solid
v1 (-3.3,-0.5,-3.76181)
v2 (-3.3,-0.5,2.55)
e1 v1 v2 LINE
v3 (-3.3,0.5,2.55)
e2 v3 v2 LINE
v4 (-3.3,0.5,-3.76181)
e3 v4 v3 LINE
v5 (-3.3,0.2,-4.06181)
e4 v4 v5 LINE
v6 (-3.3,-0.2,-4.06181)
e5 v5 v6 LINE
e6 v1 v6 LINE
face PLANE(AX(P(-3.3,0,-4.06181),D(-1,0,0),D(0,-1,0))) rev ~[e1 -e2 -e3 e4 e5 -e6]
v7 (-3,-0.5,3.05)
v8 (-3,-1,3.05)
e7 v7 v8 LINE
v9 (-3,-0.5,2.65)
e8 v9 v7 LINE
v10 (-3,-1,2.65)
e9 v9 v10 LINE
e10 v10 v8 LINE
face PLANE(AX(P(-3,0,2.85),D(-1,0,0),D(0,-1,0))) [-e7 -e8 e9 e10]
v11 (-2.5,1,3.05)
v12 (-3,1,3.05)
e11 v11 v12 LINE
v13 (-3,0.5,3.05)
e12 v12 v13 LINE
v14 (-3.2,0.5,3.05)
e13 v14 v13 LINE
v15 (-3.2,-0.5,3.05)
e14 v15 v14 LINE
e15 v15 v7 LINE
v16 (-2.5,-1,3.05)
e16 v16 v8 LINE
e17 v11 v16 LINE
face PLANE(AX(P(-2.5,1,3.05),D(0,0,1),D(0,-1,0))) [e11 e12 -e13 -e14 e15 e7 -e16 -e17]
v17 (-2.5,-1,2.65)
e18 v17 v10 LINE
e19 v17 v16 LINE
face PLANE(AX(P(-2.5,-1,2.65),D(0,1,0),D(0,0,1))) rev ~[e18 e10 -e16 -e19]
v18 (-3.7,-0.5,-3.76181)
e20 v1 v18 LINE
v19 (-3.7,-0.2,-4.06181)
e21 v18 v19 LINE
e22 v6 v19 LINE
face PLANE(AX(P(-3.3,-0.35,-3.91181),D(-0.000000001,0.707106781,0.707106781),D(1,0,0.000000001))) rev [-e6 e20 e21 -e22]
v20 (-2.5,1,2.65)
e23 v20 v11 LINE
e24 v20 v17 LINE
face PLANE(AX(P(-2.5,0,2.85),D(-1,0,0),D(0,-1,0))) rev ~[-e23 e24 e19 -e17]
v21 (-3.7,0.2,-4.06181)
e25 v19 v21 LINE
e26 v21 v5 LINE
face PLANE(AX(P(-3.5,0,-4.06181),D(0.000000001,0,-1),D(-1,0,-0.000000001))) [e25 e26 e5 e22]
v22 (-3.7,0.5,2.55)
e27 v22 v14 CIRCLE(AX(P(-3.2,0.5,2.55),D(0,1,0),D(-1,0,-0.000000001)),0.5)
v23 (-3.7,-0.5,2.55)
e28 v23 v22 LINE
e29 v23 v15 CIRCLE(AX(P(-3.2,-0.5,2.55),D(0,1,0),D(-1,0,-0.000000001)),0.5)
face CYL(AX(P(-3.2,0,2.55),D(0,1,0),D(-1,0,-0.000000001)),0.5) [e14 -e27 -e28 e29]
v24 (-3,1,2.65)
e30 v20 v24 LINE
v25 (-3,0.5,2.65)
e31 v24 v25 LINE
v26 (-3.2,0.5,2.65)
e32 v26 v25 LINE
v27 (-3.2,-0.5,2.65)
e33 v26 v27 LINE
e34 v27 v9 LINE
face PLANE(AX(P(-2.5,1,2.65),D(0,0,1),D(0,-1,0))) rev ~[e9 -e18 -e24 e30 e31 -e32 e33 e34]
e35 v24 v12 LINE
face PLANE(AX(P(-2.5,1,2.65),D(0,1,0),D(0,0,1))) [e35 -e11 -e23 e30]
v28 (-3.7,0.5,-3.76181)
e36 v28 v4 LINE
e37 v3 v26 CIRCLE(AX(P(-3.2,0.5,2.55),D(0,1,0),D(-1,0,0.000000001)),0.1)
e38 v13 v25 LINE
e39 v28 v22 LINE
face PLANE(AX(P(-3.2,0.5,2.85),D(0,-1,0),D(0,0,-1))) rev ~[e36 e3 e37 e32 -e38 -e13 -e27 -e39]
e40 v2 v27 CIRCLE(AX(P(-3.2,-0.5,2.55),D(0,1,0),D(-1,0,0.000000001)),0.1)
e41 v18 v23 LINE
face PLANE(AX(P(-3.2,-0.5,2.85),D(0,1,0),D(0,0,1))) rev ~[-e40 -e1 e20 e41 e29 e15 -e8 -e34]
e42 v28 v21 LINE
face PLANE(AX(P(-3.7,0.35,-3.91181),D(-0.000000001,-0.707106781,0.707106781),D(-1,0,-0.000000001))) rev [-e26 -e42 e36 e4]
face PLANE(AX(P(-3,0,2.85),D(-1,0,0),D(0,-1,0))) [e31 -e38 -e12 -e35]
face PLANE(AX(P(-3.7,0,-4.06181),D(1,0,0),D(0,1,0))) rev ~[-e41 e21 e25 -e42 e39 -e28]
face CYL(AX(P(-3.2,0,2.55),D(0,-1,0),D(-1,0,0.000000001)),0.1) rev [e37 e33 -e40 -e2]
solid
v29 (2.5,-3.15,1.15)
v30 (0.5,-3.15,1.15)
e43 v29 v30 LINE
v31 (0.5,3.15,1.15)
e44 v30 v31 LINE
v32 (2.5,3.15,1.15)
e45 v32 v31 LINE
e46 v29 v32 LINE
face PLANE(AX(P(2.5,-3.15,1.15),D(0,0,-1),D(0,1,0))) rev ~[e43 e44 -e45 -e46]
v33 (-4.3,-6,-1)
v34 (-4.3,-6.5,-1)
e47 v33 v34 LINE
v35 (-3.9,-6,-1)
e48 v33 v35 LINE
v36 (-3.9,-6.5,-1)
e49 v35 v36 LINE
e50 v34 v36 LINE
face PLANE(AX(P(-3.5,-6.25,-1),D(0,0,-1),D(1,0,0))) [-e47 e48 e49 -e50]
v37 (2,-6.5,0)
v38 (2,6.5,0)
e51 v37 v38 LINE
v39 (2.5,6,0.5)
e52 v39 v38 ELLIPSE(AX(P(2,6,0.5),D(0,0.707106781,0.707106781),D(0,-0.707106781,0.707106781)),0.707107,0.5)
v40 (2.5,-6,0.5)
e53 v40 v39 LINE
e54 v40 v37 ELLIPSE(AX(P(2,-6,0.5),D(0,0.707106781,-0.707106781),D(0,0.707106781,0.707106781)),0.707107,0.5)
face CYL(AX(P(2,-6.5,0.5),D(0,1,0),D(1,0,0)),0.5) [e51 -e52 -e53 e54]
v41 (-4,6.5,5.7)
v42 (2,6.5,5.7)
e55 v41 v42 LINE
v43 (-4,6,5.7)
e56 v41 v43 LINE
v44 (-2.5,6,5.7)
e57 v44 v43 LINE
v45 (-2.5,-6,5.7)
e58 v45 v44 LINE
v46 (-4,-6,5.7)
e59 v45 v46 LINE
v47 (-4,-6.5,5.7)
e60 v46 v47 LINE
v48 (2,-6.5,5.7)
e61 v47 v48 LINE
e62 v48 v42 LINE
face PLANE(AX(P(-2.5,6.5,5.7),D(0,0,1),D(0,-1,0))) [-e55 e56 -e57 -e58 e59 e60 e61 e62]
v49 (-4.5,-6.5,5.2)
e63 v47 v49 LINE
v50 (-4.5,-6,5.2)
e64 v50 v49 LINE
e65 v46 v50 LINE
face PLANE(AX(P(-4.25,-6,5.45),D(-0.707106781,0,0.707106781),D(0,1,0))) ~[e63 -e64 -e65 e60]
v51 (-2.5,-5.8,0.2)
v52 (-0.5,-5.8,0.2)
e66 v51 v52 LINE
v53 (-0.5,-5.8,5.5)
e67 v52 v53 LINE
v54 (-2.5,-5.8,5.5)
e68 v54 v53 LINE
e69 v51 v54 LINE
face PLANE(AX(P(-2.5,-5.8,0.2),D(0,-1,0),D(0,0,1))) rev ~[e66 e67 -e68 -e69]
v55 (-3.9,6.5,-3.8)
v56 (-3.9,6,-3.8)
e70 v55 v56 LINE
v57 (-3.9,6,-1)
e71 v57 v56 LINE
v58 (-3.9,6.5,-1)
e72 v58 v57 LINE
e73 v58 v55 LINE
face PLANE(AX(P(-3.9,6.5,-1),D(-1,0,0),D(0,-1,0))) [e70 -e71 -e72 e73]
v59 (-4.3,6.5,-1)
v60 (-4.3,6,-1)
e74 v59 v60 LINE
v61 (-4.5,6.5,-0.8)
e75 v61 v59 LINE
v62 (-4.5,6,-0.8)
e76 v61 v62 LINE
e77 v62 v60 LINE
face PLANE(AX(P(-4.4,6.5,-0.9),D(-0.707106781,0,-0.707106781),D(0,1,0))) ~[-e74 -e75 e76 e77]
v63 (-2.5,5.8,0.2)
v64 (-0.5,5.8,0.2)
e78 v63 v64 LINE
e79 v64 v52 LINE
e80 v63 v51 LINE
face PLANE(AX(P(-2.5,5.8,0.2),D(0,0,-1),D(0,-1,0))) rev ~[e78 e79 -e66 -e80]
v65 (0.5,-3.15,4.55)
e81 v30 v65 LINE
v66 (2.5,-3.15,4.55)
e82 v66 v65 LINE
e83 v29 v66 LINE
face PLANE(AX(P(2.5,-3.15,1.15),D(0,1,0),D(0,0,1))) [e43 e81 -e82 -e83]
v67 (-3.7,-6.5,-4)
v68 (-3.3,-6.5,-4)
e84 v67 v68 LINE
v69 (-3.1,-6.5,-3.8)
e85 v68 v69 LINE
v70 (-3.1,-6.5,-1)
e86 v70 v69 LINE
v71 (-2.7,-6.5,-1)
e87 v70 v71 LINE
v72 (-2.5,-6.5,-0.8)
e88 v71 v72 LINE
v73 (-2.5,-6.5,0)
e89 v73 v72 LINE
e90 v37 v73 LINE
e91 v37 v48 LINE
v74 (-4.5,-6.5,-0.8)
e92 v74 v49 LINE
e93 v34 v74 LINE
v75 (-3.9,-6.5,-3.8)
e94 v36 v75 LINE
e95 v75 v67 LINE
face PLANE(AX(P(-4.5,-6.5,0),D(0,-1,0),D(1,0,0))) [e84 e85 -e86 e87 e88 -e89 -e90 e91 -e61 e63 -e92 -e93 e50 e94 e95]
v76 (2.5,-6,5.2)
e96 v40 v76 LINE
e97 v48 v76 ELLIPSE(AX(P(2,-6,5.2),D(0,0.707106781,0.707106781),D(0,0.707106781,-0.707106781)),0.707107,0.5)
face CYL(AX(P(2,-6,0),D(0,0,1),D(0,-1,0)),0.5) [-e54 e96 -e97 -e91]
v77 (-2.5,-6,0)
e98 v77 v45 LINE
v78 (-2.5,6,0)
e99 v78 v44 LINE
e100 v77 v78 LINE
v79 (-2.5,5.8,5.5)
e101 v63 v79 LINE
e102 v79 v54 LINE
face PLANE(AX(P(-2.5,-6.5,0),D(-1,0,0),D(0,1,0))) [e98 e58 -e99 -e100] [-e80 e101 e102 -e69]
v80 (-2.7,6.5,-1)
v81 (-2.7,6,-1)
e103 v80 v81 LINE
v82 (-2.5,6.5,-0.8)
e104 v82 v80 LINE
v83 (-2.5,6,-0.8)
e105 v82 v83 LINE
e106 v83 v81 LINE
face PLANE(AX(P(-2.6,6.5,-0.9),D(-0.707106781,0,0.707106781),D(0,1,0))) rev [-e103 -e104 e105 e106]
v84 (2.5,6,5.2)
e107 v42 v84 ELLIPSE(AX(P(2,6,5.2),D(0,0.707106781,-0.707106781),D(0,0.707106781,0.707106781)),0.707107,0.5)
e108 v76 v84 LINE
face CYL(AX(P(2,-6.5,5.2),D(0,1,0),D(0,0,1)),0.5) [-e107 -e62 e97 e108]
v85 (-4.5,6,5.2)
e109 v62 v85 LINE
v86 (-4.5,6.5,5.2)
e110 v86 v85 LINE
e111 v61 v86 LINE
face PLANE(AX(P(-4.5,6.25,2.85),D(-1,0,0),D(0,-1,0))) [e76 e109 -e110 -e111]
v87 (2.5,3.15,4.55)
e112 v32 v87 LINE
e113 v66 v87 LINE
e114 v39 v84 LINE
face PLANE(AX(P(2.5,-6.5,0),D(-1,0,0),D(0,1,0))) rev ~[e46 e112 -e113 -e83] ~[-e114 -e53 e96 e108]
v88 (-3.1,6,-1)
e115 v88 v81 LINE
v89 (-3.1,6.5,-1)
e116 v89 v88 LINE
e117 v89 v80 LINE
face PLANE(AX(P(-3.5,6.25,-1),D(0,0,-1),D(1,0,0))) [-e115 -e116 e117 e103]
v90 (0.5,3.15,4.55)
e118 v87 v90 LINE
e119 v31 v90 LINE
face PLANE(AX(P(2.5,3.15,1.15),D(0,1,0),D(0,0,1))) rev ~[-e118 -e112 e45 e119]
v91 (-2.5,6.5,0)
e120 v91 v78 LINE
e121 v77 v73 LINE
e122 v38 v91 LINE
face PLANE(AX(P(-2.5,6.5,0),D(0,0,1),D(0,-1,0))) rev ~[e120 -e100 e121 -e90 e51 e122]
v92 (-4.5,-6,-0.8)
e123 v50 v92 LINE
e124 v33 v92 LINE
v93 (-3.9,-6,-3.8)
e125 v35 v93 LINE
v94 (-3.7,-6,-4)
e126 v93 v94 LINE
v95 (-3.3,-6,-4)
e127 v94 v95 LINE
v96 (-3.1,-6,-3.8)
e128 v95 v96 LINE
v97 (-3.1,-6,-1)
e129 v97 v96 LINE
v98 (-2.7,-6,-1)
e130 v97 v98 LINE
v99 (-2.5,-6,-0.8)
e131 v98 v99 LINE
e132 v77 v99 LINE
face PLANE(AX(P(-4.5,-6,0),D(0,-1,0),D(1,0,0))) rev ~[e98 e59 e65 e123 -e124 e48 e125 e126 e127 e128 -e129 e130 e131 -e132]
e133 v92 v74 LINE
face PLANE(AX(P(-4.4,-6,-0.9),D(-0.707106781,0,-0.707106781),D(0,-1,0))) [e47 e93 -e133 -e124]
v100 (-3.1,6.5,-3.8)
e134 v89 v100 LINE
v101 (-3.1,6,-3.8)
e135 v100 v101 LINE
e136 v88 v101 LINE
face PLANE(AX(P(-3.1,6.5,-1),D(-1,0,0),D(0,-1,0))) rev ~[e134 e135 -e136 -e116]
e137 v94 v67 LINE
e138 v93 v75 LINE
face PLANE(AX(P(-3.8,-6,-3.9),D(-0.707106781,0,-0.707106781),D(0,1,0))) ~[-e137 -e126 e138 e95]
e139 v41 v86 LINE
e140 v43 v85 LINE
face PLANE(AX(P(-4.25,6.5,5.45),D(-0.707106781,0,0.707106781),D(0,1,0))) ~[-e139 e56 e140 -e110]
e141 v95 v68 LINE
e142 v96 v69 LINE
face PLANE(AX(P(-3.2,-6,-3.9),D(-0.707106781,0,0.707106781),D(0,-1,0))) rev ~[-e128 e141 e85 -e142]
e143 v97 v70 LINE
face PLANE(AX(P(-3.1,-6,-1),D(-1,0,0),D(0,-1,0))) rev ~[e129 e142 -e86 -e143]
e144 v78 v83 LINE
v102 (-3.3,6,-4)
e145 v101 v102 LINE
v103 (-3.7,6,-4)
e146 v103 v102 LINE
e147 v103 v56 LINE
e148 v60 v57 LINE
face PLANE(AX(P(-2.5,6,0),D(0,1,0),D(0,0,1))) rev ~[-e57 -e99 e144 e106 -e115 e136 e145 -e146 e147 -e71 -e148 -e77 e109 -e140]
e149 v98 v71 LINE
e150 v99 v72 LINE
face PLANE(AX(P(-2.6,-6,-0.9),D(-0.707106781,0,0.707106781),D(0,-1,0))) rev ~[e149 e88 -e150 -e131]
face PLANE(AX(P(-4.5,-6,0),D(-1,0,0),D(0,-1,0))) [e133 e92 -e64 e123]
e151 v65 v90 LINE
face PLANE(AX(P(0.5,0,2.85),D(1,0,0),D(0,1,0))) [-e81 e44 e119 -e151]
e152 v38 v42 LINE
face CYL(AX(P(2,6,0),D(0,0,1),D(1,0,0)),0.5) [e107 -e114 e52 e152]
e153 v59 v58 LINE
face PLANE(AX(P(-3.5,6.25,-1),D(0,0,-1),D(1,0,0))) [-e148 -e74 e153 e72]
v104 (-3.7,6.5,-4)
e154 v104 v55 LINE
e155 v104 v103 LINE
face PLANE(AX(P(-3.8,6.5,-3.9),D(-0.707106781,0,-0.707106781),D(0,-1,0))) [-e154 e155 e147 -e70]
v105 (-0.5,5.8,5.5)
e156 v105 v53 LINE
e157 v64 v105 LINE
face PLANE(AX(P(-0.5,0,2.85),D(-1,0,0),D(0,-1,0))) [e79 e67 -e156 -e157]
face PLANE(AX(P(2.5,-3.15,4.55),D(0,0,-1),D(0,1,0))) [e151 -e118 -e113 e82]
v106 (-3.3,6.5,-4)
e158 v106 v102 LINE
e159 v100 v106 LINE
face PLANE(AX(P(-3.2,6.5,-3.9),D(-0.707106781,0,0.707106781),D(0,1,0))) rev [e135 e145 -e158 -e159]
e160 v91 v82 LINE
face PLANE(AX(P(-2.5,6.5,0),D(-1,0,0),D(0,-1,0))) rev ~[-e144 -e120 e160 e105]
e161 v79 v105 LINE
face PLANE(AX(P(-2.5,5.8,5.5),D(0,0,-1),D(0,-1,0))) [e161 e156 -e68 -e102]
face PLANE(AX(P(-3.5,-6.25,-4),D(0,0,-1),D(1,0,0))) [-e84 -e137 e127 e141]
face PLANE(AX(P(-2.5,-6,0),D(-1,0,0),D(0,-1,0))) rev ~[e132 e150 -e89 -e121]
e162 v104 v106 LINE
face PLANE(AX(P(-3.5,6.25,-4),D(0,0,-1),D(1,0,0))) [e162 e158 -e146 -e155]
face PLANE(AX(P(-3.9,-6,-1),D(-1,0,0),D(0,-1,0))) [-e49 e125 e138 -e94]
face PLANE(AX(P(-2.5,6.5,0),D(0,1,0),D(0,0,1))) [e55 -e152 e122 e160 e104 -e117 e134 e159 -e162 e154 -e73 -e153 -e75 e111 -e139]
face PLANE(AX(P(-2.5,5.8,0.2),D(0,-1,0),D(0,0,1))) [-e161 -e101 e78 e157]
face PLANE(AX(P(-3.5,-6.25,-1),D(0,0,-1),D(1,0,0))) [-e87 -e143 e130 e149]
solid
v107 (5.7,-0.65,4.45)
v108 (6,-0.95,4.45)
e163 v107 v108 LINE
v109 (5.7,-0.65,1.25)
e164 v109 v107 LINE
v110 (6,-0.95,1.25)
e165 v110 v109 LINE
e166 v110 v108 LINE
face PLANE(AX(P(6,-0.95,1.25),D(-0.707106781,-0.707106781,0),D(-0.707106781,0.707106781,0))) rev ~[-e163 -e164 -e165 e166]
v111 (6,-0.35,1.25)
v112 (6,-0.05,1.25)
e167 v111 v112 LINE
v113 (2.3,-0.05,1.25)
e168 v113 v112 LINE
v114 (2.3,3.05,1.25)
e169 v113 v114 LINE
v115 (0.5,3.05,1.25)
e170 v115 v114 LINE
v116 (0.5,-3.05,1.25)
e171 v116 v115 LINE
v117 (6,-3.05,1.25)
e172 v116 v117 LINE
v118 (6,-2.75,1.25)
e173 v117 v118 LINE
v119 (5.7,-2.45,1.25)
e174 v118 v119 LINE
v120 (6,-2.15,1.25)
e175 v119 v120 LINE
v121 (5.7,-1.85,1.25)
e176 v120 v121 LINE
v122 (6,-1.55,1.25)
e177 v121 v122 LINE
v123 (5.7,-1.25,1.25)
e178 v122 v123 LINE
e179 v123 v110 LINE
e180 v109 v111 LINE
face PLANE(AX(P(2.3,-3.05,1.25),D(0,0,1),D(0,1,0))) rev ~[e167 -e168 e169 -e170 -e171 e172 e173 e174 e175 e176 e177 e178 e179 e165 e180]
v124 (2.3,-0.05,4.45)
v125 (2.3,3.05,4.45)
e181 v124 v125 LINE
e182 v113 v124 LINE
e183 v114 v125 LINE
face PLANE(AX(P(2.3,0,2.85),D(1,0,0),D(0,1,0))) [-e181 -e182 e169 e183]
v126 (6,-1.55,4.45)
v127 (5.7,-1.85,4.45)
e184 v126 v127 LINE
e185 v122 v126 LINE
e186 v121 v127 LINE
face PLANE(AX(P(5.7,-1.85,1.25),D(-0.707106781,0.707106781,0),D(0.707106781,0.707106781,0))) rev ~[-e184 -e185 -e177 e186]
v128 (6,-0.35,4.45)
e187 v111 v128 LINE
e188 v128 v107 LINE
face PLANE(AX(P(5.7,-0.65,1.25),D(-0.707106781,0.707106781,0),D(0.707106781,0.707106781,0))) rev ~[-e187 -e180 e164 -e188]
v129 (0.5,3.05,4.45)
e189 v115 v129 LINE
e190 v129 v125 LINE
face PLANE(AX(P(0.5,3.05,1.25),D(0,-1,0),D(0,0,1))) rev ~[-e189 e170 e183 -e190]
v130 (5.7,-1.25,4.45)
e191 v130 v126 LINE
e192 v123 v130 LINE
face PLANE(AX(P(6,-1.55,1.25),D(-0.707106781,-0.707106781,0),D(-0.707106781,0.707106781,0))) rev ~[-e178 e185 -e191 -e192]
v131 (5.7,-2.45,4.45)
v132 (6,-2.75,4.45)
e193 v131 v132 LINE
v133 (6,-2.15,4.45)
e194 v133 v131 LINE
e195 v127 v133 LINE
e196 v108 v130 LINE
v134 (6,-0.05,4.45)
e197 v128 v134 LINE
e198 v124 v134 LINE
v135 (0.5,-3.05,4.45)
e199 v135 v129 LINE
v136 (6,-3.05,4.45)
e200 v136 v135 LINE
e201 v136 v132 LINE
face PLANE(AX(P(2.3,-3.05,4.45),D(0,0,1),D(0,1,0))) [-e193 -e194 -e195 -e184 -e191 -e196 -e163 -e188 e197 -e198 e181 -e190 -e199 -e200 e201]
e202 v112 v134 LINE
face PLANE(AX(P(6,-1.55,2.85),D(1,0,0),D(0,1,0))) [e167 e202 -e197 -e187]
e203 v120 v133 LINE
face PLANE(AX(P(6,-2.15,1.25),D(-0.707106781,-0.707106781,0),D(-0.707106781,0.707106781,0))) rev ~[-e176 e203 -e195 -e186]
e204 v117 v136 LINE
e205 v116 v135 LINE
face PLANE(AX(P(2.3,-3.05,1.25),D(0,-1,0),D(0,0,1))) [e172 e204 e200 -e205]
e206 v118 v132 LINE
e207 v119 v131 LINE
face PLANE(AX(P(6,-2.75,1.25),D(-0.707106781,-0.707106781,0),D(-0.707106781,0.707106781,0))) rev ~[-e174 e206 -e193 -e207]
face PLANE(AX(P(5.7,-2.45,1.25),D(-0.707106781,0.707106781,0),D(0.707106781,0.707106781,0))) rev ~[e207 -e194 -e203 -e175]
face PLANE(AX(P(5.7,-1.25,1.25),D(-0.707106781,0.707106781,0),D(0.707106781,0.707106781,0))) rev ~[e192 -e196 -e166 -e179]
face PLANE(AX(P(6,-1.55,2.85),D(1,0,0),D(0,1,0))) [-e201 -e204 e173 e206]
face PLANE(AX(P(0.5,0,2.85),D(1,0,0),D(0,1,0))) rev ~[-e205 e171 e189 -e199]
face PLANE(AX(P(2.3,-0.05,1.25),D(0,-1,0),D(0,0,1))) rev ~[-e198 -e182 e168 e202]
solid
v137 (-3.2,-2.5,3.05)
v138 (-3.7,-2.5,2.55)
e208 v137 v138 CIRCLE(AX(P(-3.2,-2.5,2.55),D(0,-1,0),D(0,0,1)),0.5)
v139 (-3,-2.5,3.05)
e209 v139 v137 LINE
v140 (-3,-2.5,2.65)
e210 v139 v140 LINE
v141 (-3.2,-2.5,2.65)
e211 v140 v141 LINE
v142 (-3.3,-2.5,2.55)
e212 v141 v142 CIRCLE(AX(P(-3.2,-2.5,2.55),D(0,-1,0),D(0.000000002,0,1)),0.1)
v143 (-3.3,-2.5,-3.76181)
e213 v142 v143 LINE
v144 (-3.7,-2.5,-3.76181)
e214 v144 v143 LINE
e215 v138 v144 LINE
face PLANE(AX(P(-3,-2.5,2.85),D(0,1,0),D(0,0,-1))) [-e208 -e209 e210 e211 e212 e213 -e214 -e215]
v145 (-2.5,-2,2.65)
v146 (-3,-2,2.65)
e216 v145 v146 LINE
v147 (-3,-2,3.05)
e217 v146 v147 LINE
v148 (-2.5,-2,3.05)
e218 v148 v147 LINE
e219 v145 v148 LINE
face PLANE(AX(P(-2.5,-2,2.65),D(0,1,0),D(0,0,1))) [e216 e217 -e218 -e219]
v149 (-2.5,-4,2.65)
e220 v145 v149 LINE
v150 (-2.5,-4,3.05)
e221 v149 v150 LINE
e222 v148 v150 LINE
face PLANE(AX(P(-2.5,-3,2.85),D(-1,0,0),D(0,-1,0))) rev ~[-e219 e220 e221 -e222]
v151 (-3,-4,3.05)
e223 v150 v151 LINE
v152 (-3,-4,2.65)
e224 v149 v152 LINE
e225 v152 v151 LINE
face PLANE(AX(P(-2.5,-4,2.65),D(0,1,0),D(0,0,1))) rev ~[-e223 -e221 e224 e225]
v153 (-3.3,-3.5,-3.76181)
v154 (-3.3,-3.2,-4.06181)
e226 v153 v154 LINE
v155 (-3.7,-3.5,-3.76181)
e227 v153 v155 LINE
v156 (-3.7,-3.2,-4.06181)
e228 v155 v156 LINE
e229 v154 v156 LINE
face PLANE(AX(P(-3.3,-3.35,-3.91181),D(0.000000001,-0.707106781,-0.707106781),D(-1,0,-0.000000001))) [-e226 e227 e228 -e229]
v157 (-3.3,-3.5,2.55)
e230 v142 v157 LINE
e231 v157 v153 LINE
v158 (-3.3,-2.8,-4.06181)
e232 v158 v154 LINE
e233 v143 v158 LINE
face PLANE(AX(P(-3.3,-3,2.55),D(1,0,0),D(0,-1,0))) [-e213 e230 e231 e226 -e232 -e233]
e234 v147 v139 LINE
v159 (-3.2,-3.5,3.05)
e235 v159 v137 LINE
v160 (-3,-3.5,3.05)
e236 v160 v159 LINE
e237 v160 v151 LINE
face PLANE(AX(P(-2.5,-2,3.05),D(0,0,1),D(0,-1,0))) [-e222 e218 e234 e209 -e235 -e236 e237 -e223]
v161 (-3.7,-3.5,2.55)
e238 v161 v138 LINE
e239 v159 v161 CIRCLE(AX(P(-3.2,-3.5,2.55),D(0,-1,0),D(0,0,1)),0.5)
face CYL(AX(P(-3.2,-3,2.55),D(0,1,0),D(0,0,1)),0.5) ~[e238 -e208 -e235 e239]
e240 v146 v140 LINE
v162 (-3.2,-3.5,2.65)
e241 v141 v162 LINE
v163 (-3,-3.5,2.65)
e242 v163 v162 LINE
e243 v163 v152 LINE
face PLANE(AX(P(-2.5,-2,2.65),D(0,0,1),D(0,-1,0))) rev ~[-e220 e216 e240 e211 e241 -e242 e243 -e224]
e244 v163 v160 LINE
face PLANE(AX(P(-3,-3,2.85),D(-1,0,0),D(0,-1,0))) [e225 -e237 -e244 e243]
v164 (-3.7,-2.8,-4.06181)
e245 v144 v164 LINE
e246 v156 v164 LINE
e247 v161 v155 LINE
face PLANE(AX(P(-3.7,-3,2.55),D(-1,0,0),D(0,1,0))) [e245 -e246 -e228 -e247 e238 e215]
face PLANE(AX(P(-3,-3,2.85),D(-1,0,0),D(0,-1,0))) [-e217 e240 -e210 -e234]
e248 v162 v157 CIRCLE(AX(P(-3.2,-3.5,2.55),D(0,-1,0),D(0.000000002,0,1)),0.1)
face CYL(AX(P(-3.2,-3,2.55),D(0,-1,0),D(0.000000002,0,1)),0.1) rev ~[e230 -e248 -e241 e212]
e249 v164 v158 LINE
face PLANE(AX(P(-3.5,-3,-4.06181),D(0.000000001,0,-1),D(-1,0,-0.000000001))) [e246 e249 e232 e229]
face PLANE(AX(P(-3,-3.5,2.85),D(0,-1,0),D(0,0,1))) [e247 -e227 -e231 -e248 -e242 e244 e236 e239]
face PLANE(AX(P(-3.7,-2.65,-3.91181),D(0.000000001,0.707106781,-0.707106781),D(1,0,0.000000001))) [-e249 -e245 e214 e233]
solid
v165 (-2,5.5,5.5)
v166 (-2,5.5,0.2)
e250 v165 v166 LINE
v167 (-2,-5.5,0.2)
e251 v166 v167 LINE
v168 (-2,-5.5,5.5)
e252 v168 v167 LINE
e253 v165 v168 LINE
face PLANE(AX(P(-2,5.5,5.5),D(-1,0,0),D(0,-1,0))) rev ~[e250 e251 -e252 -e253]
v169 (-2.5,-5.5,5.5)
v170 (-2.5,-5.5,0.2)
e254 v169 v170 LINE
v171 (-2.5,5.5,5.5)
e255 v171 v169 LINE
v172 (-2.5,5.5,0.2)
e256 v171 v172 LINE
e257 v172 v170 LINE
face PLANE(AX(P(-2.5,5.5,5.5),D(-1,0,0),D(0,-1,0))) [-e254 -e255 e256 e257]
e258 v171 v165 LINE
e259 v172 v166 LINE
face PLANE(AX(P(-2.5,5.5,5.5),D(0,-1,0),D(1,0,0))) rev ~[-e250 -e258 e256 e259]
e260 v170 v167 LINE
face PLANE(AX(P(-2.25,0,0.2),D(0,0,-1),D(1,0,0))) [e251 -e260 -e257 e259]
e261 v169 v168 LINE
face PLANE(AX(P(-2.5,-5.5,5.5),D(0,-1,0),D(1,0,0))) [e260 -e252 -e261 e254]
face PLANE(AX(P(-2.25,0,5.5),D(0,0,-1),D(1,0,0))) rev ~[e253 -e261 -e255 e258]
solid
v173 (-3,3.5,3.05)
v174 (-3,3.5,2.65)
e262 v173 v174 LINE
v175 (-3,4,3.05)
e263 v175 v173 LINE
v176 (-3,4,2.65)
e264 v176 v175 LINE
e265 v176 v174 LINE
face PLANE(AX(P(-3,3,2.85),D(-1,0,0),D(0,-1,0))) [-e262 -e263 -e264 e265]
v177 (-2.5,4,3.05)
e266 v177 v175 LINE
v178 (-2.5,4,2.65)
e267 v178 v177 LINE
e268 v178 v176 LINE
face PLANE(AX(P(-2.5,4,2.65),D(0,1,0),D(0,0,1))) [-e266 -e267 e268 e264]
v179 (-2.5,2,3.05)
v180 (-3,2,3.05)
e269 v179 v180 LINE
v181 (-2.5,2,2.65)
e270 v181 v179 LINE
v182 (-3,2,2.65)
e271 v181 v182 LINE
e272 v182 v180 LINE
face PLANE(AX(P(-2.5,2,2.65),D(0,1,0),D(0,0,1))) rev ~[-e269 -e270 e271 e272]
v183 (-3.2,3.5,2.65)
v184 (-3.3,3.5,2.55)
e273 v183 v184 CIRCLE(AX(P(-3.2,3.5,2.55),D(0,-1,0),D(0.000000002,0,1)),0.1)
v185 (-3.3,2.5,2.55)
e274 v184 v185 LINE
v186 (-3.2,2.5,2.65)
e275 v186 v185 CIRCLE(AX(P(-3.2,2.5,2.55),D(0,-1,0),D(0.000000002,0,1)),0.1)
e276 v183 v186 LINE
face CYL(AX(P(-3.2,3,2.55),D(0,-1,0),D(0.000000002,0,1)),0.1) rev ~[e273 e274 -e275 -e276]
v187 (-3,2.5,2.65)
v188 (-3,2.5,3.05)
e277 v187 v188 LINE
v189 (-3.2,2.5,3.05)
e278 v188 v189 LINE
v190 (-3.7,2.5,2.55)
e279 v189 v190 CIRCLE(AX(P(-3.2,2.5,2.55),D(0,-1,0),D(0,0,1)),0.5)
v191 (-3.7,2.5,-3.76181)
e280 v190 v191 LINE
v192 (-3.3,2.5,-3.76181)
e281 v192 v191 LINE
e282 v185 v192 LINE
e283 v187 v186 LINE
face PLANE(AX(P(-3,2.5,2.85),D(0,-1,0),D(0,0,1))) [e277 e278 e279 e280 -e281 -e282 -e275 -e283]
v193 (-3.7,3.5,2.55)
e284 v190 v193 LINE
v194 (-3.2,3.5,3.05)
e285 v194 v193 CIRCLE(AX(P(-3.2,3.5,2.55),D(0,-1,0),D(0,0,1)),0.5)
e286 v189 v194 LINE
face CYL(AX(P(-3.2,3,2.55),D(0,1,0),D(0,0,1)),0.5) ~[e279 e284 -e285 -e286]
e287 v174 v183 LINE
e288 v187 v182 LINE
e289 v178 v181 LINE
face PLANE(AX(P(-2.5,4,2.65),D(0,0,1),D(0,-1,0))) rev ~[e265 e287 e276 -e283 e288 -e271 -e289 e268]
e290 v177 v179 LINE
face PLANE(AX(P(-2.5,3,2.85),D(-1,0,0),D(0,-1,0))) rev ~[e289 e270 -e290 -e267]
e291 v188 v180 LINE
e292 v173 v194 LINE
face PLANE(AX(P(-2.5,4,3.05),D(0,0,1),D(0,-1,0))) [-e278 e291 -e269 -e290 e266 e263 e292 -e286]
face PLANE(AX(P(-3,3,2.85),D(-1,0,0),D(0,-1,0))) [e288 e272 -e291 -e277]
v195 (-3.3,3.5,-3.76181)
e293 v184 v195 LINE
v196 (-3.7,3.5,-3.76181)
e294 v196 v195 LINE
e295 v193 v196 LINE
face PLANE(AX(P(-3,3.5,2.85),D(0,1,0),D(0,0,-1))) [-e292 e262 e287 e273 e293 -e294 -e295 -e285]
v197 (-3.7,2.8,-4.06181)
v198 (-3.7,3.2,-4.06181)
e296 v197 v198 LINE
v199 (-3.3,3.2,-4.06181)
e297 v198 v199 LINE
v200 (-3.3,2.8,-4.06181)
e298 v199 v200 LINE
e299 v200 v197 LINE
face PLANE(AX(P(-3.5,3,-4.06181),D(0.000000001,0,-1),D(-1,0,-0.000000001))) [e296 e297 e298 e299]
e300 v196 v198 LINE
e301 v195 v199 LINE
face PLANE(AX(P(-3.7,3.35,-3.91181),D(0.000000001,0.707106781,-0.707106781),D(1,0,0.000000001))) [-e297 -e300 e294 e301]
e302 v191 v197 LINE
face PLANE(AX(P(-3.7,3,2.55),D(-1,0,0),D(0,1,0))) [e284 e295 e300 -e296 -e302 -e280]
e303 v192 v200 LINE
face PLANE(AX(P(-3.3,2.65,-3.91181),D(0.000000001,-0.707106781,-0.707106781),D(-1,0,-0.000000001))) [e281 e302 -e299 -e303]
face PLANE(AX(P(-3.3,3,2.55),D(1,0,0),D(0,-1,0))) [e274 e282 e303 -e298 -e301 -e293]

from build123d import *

# Parameters (mm, degrees)
F0_W       = 5
F0_H       = 13
F1_DEPTH   = 5.7
F2_W       = 6.3
F2_H       = 3.4
F3_DEPTH   = 2
F4_W       = 6.1
F4_H       = 3.2
F5_DEPTH   = 1.8
F6_W       = 3
F6_H       = 3.2
F7_DEPTH   = 3.7
F8_W       = 0.5
F8_H       = 5.7
F9_DEPTH   = 2
F10_W      = 2
F10_H      = 0.5
F11_DEPTH  = 1
F12_W      = 0.8
F12_H      = 0.5
F13_DEPTH  = 3
F14_W      = 0.8
F14_H      = 0.5
F15_DEPTH  = 3
F16_SIZE   = 0.2
F17_SIZE   = 0.2
F18_R      = 0.5
F19_SIZE   = 0.5
F20_W      = 11.6
F20_H      = 5.3
F21_DEPTH  = 2
F22_W      = 0.5
F22_H      = 11
F23_DEPTH  = 5.3
F24_W      = 2
F24_H      = 0.4
F25_DEPTH  = 0.5
F26_W      = 1
F26_H      = 0.4
F29_W      = 1
F29_H      = 0.4
F31_W      = 1
F31_H      = 0.4
F33_SIZE   = 0.3
F33_2_SIZE = 0.3
F33_3_SIZE = 0.3
F35_DEPTH  = 25


with BuildPart() as f1:
    # F0 (on Top) → F1 (new body)
    with BuildSketch(Plane.XY):
        Rectangle(F0_W, F0_H)
    extrude(amount=F1_DEPTH)

    # F2 (on face) → F3 (cut)
    with BuildSketch(Plane.YZ.offset(2.5)):
        with Locations((0, 2.85)):
            Rectangle(F2_W, F2_H)
    extrude(amount=-F3_DEPTH, mode=Mode.SUBTRACT)

    # F8 (on face) → F9 (join)
    with BuildSketch(Plane(origin=(-2.5, 0, 0), x_dir=(0, -1, 0), z_dir=(-1, 0, 0))):
        with Locations((-6.25, 2.85)):
            Rectangle(F8_W, F8_H)
        with Locations((6.25, 2.85)):
            Rectangle(F8_W, F8_H)
    extrude(amount=F9_DEPTH)

    # F10 (on face) → F11 (join)
    with BuildSketch(Plane(origin=(0, 0, 0), x_dir=(1, 0, 0), z_dir=(0, 0, -1))):
        with Locations((-3.5, 6.25)):
            Rectangle(F10_W, F10_H)
        with Locations((-3.5, -6.25)):
            Rectangle(F10_W, F10_H)
    extrude(amount=F11_DEPTH)

    # F12 (on face) → F13 (join)
    with BuildSketch(Plane(origin=(0, 0, -1), x_dir=(1, 0, 0), z_dir=(0, 0, -1))):
        with Locations((-3.5, -6.25)):
            Rectangle(F12_W, F12_H)
    extrude(amount=F13_DEPTH)

    # F14 (on face) → F15 (join)
    with BuildSketch(Plane(origin=(0, 0, -1), x_dir=(1, 0, 0), z_dir=(0, 0, -1))):
        with Locations((-3.5, 6.25)):
            Rectangle(F14_W, F14_H)
    extrude(amount=F15_DEPTH)

    # F16
    f16_edges = [f1.edges().sort_by_distance(p)[0] for p in [
        (-3.9, 6.25, -4),
        (-3.1, 6.25, -4),
        (-3.9, -6.25, -4),
        (-3.1, -6.25, -4),
    ]]
    chamfer(f16_edges, length=F16_SIZE)

    # F17
    f17_edges = [f1.edges().sort_by_distance(p)[0] for p in [
        (-4.5, 6.25, -1),
        (-2.5, 6.25, -1),
        (-4.5, -6.25, -1),
        (-2.5, -6.25, -1),
    ]]
    chamfer(f17_edges, length=F17_SIZE)

    # F18
    f18_edges = [f1.edges().sort_by_distance(p)[0] for p in [
        (2.5, 0, 5.7),
        (2.5, 6.5, 2.85),
        (2.5, 0, 0),
        (2.5, -6.5, 2.85),
    ]]
    fillet(f18_edges, radius=F18_R)

    # F19
    f19_edges = [f1.edges().sort_by_distance(p)[0] for p in [
        (-4.5, 6.25, 5.7),
        (-4.5, -6.25, 5.7),
    ]]
    chamfer(f19_edges, length=F19_SIZE)

    # F20 (on face) → F21 (cut)
    with BuildSketch(Plane(origin=(-2.5, 0, 0), x_dir=(0, -1, 0), z_dir=(-1, 0, 0))):
        with Locations((0, 2.85)):
            Rectangle(F20_W, F20_H)
    extrude(amount=-F21_DEPTH, mode=Mode.SUBTRACT)


with BuildPart() as f5:
    # F4 (on face) → F5 (new body)
    with BuildSketch(Plane.YZ.offset(0.5)):
        with Locations((0, 2.85)):
            Rectangle(F4_W, F4_H)
    extrude(amount=F5_DEPTH)

    # F6 (on face) → F7 (join)
    with BuildSketch(Plane.YZ.offset(2.3)):
        with Locations((-1.55, 2.85)):
            Rectangle(F6_W, F6_H)
    extrude(amount=F7_DEPTH)

    # F34 (on face) → F35 (cut)
    with BuildSketch(Plane(origin=(0, 0, 1.25), x_dir=(1, 0, 0), z_dir=(0, 0, -1))):
        Polygon((6, 2.15), (6, 2.75), (5.7, 2.45), align=None)
        Polygon((6, 1.55), (6, 2.15), (5.7, 1.85), align=None)
        Polygon((6, 0.95), (6, 1.55), (5.7, 1.25), align=None)
        Polygon((6, 0.35), (6, 0.95), (5.7, 0.65), align=None)
    extrude(amount=-F35_DEPTH, mode=Mode.SUBTRACT)


with BuildPart() as f23:
    # F22 (on face) → F23 (new body)
    with BuildSketch(Plane(origin=(0, 0, 5.5), x_dir=(1, 0, 0), z_dir=(0, 0, -1))):
        with Locations((-2.25, 0)):
            Rectangle(F22_W, F22_H)
    extrude(amount=F23_DEPTH)


with BuildPart() as f25:
    # F24 (on face) → F25 (new body)
    with BuildSketch(Plane(origin=(-2.5, 0, 0), x_dir=(0, -1, 0), z_dir=(-1, 0, 0))):
        with Locations((0, 2.85)):
            Rectangle(F24_W, F24_H)
    extrude(amount=F25_DEPTH)

    # F28: sweep along a path in F27
    with BuildLine(Plane(origin=(0, 1, 0), x_dir=(-1, 0, 0), z_dir=(0, 1, 0))) as f28_path:
        Line((3.5, -4.0618096853), (3.5, 2.55))
        ThreePointArc((3.5, 2.55), (3.4121320344, 2.7621320344), (3.2, 2.85))
        Line((3.2, 2.85), (3, 2.85))
    # F26 (on face) → F28 (sweep)
    with BuildSketch(Plane(origin=(-3, 0, 0), x_dir=(0, -1, 0), z_dir=(-1, 0, 0))):
        with Locations((0, 2.85)):
            Rectangle(F26_W, F26_H)
    sweep(path=f28_path.line)

    # F33#2
    f33_2_edges = [f25.edges().sort_by_distance(p)[0] for p in [
        (-3.5, -0.5, -4.06181),
        (-3.5, 0.5, -4.06181),
    ]]
    chamfer(f33_2_edges, length=F33_2_SIZE)


with BuildPart() as f25b:
    # F24 (on face) → F25, piece 2 (new body)
    with BuildSketch(Plane(origin=(-2.5, 0, 0), x_dir=(0, -1, 0), z_dir=(-1, 0, 0))):
        with Locations((3, 2.85)):
            Rectangle(F24_W, F24_H)
    extrude(amount=F25_DEPTH)

    # F30: sweep along a path in F27
    with BuildLine(Plane(origin=(0, 1, 0), x_dir=(-1, 0, 0), z_dir=(0, 1, 0))) as f30_path:
        Line((3, 2.85), (3.2, 2.85))
        ThreePointArc((3.2, 2.85), (3.4121320344, 2.7621320344), (3.5, 2.55))
        Line((3.5, 2.55), (3.5, -4.0618096853))
    # F29 (on face) → F30 (sweep)
    with BuildSketch(Plane(origin=(-3, 0, 0), x_dir=(0, -1, 0), z_dir=(-1, 0, 0))):
        with Locations((3, 2.85)):
            Rectangle(F29_W, F29_H)
    sweep(path=f30_path.line)

    # F33
    f33_edges = [f25b.edges().sort_by_distance(p)[0] for p in [
        (-3.5, -3.5, -4.06181),
        (-3.5, -2.5, -4.06181),
    ]]
    chamfer(f33_edges, length=F33_SIZE)


with BuildPart() as f25c:
    # F24 (on face) → F25, piece 3 (new body)
    with BuildSketch(Plane(origin=(-2.5, 0, 0), x_dir=(0, -1, 0), z_dir=(-1, 0, 0))):
        with Locations((-3, 2.85)):
            Rectangle(F24_W, F24_H)
    extrude(amount=F25_DEPTH)

    # F32: sweep along a path in F27
    with BuildLine(Plane(origin=(0, 1, 0), x_dir=(-1, 0, 0), z_dir=(0, 1, 0))) as f32_path:
        Line((3, 2.85), (3.2, 2.85))
        ThreePointArc((3.2, 2.85), (3.4121320344, 2.7621320344), (3.5, 2.55))
        Line((3.5, 2.55), (3.5, -4.0618096853))
    # F31 (on face) → F32 (sweep)
    with BuildSketch(Plane(origin=(-3, 0, 0), x_dir=(0, -1, 0), z_dir=(-1, 0, 0))):
        with Locations((-3, 2.85)):
            Rectangle(F31_W, F31_H)
    sweep(path=f32_path.line)

    # F33#3
    f33_3_edges = [f25c.edges().sort_by_distance(p)[0] for p in [
        (-3.5, 2.5, -4.06181),
        (-3.5, 3.5, -4.06181),
    ]]
    chamfer(f33_3_edges, length=F33_3_SIZE)


solid = Compound([f1.part, f5.part, f23.part, f25.part, f25b.part, f25c.part])
